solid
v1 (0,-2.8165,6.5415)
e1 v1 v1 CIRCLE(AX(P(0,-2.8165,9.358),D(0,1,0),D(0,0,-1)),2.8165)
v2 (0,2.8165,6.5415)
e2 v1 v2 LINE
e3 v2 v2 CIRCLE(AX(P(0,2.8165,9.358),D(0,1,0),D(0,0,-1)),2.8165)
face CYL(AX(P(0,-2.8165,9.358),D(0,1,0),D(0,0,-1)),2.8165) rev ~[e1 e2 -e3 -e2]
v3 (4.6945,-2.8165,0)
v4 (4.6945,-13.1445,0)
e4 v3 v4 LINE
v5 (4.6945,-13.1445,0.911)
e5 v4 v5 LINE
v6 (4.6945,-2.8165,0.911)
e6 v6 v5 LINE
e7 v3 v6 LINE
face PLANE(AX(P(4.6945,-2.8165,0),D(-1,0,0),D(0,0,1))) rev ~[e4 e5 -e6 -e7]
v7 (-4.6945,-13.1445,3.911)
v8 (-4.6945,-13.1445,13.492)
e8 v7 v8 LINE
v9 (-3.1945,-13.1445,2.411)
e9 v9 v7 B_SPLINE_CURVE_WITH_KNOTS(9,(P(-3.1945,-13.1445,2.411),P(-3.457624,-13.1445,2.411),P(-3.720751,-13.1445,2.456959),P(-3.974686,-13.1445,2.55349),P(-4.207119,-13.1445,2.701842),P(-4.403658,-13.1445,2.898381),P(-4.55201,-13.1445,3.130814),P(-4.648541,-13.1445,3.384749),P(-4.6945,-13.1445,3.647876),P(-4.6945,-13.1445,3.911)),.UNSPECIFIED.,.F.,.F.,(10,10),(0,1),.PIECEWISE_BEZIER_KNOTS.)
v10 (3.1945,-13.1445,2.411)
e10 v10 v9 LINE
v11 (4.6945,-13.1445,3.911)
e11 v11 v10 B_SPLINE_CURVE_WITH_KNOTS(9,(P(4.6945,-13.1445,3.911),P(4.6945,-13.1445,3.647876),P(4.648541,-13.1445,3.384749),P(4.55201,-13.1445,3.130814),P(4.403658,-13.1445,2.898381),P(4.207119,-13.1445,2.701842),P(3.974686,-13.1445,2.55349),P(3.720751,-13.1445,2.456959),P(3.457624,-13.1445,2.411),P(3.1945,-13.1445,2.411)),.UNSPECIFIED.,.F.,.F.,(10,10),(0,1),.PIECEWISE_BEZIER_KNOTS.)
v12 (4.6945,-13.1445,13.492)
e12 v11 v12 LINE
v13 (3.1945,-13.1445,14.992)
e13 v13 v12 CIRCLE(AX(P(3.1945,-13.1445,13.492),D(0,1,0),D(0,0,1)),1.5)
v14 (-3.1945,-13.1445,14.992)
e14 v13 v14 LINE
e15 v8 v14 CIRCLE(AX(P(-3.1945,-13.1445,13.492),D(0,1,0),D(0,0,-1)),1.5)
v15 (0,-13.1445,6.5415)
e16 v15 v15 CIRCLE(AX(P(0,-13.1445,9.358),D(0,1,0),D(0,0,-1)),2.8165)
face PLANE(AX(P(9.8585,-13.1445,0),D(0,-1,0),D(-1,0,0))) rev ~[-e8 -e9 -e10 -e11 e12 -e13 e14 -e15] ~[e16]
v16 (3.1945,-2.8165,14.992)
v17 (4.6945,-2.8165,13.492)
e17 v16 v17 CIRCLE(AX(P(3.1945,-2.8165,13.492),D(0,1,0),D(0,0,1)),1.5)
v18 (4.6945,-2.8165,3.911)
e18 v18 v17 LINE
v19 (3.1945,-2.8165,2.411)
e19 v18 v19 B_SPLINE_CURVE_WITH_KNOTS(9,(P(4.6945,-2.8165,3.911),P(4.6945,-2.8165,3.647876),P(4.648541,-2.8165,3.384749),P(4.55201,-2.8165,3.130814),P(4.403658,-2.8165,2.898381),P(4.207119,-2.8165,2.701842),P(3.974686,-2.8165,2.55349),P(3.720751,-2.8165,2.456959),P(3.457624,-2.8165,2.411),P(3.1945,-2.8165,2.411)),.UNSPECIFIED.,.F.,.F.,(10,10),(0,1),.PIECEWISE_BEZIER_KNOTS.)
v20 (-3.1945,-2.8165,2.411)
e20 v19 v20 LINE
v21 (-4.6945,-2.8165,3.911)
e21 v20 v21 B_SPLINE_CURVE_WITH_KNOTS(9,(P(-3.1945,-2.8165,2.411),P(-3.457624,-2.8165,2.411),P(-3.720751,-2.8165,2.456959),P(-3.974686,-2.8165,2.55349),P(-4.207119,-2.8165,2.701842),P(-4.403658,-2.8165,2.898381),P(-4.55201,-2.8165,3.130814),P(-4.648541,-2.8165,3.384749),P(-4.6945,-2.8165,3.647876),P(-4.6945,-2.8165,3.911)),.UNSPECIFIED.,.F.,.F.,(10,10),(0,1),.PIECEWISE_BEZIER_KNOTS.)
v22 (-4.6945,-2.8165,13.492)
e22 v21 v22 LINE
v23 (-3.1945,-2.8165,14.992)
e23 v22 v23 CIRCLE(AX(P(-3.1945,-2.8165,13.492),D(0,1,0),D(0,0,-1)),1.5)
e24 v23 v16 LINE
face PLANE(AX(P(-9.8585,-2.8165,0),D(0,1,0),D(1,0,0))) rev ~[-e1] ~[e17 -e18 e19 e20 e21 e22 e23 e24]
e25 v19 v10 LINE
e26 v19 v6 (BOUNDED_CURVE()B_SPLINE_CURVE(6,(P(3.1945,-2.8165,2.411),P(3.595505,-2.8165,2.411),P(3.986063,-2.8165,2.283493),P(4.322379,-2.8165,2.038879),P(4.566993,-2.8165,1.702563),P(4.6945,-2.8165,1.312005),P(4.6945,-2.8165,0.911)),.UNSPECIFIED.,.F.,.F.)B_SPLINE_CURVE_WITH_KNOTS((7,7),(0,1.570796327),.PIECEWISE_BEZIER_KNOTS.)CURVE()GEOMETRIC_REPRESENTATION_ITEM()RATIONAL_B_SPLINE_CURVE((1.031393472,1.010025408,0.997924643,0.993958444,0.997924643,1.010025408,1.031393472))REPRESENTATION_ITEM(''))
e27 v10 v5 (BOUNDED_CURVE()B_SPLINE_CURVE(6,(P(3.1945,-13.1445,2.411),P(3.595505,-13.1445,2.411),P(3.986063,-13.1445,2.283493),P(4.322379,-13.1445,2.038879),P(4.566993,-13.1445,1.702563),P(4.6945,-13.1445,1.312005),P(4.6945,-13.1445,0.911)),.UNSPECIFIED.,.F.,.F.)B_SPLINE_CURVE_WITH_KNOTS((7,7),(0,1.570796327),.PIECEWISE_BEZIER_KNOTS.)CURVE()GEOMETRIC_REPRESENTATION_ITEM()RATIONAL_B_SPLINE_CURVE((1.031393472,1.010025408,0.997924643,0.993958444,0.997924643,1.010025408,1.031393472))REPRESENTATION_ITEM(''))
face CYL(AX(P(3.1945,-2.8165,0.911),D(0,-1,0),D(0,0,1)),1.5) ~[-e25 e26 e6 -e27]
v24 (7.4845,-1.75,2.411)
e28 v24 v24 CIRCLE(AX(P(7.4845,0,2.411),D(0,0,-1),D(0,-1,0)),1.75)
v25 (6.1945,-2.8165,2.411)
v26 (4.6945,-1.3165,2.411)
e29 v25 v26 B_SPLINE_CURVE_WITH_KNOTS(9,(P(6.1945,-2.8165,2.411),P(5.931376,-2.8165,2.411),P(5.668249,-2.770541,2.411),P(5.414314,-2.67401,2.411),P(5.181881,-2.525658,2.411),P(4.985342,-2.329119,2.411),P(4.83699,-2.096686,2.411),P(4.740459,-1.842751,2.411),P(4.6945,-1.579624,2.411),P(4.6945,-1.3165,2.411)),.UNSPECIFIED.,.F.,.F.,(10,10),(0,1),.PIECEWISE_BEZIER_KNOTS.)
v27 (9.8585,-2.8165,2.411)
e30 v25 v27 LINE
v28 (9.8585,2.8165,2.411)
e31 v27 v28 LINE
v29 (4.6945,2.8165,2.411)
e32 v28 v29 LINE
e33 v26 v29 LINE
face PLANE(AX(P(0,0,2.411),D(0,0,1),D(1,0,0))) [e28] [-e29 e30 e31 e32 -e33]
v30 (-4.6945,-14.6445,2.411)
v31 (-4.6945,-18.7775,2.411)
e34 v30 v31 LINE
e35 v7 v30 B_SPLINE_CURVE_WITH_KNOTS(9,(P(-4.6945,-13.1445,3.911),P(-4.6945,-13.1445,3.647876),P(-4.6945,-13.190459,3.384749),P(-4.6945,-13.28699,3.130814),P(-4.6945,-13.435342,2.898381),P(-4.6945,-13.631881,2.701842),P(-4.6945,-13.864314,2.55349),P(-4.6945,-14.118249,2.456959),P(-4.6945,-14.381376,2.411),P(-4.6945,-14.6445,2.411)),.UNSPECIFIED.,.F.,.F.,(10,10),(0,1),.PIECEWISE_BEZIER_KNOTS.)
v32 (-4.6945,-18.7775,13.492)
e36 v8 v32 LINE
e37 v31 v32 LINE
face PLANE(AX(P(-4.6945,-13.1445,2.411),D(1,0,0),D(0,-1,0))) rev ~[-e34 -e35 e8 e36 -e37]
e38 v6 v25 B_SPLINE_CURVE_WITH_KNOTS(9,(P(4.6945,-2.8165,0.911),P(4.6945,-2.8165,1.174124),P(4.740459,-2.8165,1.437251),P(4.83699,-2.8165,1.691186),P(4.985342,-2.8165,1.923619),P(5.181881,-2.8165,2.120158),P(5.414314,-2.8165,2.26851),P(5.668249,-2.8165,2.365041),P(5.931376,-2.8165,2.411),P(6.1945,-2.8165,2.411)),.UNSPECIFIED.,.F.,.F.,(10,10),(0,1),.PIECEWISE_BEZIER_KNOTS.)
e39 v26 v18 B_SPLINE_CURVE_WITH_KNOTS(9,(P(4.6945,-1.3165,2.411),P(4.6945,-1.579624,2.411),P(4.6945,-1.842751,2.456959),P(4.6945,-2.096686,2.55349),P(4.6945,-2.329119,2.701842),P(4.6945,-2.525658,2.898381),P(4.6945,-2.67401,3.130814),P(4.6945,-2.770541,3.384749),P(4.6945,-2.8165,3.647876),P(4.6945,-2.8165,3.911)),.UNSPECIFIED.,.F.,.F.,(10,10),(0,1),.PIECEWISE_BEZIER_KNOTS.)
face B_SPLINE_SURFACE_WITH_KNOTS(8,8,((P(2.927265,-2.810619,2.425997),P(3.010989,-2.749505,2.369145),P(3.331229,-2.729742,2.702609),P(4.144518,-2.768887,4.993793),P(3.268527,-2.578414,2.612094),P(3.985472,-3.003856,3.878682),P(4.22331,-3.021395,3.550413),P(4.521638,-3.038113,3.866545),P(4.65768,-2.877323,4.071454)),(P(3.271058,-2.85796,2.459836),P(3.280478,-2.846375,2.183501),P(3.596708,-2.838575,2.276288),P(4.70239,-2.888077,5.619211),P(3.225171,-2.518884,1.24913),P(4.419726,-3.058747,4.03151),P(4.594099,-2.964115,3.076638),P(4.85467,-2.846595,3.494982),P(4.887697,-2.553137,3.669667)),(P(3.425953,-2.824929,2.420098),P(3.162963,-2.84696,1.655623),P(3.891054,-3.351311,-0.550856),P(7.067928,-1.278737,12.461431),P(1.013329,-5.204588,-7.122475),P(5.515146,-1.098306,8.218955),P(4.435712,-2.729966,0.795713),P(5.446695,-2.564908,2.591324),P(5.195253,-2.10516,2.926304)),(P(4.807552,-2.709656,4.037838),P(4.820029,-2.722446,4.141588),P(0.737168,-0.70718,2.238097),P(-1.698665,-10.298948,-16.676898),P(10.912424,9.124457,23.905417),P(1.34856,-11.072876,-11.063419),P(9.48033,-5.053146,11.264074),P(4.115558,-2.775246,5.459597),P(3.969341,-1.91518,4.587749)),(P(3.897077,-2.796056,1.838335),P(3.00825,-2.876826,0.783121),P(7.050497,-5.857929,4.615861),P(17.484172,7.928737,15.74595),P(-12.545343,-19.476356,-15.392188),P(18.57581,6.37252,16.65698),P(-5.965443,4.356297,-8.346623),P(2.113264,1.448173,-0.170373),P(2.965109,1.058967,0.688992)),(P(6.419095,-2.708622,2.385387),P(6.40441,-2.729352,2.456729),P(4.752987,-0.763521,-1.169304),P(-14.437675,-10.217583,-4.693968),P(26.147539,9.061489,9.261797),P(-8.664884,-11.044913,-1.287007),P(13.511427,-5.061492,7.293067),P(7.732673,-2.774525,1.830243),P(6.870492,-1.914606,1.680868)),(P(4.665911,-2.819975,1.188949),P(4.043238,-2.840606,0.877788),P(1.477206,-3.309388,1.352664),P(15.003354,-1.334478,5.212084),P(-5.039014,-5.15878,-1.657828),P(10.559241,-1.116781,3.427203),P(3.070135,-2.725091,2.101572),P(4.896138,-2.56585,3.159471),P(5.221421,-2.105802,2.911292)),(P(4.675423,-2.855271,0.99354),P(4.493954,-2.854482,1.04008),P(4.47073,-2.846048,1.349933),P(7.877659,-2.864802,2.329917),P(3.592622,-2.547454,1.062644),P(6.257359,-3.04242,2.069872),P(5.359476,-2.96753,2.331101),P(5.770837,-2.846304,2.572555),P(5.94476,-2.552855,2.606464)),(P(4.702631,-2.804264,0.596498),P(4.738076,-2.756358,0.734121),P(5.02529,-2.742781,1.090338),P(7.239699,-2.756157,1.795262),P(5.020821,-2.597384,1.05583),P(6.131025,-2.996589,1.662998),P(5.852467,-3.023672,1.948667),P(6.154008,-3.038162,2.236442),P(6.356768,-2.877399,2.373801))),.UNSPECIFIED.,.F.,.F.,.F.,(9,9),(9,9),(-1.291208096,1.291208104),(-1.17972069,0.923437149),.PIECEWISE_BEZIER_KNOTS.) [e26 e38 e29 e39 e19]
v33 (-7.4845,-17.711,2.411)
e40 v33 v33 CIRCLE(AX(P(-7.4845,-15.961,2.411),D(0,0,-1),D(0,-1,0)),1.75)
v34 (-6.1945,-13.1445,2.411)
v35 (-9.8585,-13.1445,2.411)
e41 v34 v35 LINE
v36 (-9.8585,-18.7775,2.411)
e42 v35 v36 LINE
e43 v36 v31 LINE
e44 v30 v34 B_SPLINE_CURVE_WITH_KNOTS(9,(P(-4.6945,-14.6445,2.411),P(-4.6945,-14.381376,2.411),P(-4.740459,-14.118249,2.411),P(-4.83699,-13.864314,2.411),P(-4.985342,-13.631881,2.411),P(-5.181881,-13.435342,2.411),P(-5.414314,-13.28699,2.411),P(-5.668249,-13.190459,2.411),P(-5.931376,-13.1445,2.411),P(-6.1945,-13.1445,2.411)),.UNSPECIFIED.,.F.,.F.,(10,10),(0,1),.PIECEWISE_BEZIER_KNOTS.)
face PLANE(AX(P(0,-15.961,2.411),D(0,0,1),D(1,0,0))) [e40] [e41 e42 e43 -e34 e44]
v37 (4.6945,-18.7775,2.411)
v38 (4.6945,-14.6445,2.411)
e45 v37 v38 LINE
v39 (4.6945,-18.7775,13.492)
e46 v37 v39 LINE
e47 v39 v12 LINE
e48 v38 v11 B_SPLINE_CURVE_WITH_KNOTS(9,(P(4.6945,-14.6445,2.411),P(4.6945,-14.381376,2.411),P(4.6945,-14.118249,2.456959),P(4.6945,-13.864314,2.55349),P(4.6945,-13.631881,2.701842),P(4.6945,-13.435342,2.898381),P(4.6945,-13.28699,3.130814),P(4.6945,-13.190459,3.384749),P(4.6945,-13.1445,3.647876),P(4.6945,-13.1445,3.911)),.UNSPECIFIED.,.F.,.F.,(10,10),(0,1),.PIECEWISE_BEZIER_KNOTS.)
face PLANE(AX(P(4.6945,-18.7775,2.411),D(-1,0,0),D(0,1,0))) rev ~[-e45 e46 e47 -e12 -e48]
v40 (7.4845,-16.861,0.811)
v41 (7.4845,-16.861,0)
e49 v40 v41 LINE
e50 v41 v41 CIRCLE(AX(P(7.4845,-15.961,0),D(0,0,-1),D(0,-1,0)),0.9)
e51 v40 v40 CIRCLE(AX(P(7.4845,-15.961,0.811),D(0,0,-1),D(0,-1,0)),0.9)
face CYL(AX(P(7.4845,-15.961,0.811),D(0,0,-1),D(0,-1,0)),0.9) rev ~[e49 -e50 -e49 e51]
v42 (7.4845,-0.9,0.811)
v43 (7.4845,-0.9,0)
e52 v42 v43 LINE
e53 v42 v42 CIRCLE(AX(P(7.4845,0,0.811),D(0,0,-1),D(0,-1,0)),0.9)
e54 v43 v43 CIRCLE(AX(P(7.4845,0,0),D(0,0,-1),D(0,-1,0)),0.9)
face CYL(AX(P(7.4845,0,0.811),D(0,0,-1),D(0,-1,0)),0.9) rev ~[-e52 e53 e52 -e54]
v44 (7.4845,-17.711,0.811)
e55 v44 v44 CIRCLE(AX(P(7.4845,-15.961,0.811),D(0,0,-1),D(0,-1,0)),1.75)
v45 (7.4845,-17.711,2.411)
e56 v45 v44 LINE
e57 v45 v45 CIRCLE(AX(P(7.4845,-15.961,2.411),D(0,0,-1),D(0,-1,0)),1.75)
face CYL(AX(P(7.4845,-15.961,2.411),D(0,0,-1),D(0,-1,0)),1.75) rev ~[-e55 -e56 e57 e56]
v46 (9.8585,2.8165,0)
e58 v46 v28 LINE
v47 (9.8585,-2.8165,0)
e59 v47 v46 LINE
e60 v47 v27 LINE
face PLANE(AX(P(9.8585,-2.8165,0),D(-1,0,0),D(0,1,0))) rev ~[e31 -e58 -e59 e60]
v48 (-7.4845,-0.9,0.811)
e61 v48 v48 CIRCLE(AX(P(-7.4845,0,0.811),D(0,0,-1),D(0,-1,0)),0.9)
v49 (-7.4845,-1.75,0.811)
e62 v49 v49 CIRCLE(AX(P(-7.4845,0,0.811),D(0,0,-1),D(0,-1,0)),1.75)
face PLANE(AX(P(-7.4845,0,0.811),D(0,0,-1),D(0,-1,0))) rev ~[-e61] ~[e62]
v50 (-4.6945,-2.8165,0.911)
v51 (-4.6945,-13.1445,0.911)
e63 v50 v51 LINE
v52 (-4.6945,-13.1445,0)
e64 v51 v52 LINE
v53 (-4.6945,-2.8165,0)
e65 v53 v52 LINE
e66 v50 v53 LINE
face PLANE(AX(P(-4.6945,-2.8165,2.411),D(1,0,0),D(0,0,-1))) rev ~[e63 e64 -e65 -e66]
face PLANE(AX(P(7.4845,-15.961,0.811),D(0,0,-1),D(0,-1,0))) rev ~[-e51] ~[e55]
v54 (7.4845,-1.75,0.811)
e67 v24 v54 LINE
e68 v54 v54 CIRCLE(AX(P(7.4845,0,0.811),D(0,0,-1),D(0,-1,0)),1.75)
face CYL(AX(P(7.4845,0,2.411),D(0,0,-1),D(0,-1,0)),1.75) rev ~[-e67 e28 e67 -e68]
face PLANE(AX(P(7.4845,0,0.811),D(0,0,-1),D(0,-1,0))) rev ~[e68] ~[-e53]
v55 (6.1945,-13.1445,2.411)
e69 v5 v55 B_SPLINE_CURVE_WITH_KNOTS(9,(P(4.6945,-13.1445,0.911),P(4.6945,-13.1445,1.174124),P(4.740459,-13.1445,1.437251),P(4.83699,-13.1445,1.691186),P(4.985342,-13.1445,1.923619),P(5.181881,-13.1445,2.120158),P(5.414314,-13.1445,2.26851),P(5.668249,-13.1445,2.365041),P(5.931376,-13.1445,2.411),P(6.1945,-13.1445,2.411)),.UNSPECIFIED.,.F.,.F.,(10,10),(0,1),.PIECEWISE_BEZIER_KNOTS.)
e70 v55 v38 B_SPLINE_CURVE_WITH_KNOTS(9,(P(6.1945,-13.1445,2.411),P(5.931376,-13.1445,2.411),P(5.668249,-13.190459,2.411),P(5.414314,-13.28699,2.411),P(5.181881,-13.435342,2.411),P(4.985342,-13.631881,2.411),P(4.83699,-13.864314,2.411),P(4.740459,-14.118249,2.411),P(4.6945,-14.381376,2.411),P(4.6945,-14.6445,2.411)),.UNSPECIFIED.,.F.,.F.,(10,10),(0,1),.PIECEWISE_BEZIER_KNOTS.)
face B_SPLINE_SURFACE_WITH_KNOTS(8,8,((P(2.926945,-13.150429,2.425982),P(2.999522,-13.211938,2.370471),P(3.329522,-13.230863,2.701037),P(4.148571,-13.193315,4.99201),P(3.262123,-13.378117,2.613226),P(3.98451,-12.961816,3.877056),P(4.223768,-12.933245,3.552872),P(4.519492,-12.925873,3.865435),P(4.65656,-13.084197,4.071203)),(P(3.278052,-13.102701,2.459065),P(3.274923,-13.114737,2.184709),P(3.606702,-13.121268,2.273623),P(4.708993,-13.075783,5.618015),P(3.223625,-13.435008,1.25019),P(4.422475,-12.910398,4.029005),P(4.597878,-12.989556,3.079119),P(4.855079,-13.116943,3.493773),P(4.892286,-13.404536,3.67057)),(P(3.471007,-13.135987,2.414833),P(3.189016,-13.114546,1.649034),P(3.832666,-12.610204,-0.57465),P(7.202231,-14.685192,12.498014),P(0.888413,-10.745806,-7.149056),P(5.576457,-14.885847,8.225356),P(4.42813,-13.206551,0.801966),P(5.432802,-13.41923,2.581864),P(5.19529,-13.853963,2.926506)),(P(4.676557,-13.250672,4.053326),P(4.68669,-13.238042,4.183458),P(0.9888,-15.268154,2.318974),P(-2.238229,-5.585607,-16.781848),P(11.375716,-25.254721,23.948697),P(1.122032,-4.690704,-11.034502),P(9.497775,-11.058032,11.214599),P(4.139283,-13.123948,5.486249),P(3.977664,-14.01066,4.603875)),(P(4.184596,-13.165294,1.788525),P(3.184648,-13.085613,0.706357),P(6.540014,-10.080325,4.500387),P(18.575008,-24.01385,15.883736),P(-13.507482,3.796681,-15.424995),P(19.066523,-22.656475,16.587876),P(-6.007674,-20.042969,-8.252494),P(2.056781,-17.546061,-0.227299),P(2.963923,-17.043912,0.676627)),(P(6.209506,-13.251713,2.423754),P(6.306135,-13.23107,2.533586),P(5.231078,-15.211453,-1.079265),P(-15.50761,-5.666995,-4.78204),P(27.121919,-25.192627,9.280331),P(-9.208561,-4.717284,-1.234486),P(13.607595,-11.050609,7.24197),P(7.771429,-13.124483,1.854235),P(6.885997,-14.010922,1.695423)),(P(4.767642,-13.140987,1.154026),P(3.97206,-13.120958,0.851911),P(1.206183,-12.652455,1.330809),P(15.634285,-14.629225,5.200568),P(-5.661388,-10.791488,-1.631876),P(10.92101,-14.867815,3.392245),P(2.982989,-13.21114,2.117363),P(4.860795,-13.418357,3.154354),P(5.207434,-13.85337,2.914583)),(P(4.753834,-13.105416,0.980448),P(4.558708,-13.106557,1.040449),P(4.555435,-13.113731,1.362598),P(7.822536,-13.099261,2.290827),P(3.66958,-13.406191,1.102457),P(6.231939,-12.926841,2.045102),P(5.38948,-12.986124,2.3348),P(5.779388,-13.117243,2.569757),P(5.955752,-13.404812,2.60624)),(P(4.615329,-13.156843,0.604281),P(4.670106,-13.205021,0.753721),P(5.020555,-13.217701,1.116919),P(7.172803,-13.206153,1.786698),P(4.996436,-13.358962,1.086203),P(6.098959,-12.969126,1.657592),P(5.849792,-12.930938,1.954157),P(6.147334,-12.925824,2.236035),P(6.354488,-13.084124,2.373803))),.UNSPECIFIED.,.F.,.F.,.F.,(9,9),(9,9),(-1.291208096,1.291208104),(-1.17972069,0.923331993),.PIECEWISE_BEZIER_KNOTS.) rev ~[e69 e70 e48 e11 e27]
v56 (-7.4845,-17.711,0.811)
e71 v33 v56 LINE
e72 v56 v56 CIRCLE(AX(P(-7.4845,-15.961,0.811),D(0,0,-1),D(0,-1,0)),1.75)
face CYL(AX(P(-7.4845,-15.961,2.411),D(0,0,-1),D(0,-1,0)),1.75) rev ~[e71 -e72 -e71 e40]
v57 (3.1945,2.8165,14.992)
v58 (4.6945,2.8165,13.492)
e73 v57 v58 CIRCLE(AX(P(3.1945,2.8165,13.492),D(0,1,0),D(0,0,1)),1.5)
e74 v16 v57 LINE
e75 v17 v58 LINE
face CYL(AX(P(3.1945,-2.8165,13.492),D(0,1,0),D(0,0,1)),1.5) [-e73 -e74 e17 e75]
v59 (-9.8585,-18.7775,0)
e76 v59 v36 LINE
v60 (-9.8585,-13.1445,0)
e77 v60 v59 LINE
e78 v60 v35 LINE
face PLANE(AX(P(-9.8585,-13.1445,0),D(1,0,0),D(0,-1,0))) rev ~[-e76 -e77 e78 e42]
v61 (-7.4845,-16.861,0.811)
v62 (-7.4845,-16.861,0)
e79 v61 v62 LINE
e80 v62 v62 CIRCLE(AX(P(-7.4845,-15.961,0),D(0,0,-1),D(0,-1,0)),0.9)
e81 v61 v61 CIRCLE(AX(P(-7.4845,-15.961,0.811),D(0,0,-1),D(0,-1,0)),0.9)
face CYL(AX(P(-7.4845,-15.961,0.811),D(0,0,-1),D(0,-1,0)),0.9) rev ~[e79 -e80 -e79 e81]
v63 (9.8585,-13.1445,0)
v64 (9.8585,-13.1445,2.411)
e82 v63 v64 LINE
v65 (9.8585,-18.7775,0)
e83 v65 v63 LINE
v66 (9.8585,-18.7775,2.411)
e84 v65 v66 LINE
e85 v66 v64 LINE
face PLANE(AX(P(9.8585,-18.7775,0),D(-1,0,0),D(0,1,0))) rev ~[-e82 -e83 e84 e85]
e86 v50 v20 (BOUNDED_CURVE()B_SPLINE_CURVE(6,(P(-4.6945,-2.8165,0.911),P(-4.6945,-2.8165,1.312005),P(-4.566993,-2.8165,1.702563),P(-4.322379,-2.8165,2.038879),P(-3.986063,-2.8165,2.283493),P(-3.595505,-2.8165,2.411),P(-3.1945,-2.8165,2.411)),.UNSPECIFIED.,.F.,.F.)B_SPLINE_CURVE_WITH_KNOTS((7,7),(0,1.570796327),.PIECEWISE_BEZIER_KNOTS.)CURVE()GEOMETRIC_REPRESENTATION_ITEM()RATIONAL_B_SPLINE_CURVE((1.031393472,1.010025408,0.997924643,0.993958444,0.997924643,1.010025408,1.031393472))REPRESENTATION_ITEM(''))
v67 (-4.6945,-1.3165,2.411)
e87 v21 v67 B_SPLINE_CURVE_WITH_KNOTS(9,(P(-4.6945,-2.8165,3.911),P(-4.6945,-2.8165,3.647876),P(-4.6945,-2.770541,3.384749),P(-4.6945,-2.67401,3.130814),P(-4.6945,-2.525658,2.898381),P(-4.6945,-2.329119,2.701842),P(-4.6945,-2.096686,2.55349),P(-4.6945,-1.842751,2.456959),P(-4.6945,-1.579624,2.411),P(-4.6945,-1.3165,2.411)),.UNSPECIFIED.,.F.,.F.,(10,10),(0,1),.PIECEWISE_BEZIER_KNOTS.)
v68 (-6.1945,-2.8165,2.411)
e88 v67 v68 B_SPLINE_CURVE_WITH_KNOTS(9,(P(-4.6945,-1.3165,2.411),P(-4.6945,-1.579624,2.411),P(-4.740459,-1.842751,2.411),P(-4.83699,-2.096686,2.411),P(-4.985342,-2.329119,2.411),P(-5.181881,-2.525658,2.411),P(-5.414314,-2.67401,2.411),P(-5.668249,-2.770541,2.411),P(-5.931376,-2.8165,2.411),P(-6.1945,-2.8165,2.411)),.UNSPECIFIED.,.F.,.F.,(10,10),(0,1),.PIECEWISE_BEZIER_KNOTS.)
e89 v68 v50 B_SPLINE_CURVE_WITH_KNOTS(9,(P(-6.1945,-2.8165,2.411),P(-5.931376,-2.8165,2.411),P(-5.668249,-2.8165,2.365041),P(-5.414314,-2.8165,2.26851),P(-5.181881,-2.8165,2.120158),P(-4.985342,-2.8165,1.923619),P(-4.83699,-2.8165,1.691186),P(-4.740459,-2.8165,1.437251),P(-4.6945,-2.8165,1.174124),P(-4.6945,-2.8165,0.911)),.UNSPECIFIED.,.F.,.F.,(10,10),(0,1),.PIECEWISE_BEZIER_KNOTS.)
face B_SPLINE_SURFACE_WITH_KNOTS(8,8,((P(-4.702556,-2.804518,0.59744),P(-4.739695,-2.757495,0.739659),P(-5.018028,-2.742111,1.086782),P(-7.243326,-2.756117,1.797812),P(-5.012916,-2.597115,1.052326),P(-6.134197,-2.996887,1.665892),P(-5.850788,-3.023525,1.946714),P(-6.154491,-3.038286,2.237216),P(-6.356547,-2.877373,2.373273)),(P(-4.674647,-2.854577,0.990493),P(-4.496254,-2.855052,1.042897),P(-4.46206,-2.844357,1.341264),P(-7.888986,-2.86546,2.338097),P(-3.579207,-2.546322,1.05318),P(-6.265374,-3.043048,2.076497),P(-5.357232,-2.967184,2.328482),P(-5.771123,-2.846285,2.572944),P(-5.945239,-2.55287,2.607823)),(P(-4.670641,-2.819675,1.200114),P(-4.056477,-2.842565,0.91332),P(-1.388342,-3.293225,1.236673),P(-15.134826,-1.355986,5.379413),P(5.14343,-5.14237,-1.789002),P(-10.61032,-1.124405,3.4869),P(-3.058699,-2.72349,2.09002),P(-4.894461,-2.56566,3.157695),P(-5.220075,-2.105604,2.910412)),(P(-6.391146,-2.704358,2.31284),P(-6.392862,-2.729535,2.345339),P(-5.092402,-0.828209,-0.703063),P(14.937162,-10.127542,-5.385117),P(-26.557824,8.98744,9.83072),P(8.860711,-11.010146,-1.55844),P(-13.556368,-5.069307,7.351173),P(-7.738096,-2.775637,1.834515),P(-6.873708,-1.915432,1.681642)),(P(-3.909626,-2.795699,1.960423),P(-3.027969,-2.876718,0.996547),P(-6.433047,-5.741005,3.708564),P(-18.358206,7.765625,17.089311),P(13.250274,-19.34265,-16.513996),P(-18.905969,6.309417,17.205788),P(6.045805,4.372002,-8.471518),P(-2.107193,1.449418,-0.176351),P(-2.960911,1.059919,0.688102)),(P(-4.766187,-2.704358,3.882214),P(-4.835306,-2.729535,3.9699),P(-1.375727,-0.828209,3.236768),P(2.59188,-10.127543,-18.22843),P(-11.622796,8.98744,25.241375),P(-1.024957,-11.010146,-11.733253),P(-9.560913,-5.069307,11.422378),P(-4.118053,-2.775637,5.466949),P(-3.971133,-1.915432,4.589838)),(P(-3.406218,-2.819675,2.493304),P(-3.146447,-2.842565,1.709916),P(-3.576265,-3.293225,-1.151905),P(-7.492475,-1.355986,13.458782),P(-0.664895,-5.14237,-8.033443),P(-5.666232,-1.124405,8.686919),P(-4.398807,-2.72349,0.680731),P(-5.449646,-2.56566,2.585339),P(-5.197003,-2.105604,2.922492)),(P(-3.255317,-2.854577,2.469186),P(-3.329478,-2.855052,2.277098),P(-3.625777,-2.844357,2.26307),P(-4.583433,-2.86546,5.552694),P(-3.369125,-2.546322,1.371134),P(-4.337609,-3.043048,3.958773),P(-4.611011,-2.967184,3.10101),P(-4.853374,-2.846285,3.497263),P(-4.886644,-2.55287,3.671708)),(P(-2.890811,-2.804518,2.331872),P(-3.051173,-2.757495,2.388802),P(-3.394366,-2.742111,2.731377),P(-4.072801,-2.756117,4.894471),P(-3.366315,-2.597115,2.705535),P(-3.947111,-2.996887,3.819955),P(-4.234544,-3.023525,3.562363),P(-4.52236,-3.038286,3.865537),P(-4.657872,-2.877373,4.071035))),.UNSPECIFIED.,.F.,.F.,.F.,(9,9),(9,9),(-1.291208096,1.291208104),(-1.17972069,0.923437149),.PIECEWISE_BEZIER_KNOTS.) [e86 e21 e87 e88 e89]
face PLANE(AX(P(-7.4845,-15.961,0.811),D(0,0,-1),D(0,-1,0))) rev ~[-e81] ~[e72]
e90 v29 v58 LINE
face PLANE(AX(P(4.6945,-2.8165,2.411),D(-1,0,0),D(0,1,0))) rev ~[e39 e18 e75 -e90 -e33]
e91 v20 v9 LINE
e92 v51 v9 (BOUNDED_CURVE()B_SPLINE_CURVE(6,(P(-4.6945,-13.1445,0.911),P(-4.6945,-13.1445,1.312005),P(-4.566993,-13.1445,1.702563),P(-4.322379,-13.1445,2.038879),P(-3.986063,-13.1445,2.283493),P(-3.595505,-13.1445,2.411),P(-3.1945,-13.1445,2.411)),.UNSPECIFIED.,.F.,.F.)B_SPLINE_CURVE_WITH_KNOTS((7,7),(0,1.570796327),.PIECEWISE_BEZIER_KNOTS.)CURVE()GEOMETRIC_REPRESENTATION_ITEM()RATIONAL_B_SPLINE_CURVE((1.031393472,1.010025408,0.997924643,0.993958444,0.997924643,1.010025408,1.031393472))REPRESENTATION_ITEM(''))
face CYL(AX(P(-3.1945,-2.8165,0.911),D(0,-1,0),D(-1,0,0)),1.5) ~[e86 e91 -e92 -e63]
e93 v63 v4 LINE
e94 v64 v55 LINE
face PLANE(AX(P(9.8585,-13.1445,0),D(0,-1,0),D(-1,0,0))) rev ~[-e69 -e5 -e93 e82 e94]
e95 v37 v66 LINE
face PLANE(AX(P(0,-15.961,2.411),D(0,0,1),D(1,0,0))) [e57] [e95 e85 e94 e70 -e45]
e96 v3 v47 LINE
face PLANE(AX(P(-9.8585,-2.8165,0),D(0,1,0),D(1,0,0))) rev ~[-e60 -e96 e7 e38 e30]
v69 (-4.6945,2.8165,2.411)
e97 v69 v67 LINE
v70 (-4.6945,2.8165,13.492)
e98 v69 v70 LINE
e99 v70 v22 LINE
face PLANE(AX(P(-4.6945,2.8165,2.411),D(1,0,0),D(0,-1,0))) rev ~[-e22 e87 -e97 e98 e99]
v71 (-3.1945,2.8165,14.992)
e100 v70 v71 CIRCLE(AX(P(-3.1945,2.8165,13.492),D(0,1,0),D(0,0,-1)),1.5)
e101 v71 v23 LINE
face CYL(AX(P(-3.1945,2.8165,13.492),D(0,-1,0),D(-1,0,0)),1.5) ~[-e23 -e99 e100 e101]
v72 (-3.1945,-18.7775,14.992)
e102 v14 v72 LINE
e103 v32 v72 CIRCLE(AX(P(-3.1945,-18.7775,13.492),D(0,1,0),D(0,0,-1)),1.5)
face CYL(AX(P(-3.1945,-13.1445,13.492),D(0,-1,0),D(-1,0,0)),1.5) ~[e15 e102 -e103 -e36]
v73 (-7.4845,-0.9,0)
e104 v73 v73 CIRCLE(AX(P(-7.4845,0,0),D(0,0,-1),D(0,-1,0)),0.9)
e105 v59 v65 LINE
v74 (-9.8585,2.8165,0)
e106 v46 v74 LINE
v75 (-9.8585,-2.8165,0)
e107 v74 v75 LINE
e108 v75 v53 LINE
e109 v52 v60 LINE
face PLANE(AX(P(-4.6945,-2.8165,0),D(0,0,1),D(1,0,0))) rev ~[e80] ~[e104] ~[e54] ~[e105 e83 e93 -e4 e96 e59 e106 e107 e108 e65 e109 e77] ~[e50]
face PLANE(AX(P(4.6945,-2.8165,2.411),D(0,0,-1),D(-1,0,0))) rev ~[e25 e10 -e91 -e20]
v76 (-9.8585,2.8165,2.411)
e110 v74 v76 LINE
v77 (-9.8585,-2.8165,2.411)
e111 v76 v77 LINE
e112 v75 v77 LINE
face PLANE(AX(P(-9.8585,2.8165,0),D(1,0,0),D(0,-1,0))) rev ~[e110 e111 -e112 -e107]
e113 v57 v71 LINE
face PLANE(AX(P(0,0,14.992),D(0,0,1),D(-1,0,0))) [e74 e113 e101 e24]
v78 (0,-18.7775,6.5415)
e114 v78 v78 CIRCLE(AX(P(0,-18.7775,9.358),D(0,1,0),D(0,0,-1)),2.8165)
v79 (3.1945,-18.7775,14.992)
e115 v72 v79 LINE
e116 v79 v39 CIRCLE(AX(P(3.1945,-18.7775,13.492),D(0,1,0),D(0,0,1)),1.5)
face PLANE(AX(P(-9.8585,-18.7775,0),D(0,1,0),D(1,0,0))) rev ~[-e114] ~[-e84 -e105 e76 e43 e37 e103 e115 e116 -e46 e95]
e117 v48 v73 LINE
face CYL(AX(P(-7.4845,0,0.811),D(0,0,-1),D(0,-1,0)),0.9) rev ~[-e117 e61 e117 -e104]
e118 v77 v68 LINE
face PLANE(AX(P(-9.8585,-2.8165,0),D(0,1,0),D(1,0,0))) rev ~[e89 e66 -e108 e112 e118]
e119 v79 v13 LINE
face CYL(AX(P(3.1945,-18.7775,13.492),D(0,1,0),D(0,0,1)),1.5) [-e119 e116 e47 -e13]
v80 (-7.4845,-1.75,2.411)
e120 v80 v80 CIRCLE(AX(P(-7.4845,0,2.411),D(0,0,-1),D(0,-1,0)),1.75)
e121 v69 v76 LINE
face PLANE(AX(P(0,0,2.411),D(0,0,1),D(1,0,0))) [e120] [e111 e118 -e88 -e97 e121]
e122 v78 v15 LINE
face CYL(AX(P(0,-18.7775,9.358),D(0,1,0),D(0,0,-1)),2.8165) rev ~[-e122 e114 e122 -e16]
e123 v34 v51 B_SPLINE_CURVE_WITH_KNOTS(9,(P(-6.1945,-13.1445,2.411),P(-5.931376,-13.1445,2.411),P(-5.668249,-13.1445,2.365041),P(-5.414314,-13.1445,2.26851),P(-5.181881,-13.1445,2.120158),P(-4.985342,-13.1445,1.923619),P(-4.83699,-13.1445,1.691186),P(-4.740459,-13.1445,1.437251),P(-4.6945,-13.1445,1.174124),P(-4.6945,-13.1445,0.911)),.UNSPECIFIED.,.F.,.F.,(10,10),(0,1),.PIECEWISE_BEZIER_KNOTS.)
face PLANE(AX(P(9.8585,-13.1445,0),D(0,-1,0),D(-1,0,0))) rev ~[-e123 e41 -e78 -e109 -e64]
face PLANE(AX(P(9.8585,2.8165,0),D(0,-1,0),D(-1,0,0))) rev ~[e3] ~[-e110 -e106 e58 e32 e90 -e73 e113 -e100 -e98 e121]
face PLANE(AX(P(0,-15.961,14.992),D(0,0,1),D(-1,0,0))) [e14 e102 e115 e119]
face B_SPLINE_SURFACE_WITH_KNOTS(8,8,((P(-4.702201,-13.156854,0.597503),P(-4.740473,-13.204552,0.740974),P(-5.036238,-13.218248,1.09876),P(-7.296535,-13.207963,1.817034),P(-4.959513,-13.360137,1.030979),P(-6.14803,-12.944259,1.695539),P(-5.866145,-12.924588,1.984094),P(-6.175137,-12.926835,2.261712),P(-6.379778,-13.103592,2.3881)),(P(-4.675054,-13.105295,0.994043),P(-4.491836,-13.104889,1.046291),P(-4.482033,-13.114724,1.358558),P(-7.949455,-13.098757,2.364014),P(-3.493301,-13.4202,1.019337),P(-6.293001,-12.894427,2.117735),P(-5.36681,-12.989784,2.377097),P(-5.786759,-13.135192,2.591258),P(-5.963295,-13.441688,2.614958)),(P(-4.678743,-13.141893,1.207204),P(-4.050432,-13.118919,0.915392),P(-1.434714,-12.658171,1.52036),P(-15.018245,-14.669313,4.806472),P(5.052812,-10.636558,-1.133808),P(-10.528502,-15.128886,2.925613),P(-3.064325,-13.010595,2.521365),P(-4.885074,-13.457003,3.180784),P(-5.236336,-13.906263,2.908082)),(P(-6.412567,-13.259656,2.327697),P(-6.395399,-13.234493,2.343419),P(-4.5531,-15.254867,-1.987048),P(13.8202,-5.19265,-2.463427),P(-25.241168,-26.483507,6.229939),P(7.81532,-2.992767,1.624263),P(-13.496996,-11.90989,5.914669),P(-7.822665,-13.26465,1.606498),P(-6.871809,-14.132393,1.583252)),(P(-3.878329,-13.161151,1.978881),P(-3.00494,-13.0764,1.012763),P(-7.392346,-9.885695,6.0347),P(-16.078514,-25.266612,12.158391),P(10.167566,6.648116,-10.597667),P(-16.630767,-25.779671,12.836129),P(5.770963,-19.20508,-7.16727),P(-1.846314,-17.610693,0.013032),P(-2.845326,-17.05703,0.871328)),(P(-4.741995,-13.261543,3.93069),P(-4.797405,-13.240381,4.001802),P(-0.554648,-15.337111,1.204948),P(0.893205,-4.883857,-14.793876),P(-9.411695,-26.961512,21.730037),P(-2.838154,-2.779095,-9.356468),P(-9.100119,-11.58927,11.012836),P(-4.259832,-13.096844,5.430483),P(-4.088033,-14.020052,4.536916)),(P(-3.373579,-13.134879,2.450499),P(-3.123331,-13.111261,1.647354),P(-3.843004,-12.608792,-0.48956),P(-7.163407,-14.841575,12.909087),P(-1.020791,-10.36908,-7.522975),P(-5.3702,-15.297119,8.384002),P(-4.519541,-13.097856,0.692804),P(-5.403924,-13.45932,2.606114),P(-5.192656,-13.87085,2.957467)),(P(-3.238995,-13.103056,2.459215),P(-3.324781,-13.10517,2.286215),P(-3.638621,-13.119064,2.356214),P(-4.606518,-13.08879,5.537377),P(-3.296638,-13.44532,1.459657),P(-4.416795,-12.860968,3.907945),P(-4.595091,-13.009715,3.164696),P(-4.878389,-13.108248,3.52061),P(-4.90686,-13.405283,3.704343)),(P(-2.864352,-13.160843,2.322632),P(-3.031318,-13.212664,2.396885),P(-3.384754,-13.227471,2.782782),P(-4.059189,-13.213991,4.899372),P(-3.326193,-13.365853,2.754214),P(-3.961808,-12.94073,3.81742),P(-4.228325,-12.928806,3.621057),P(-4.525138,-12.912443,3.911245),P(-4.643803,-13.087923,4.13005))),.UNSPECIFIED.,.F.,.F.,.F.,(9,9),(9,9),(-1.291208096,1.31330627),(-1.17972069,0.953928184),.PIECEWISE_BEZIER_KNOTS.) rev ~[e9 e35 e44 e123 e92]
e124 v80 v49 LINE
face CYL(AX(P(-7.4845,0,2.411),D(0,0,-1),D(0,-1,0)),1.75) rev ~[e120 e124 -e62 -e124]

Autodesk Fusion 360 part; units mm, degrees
sketch "Sketch1" plane through (0, 0, 0) normal (0, 0, 1) x (1, 0, 0)
  line L0 (9.8585, 2.8165) -> (-9.8585, 2.8165)
  line L1 (-9.8585, 2.8165) -> (-9.8585, -2.8165)
  line L2 (-9.8585, -2.8165) -> (9.8585, -2.8165)
  line L3 (9.8585, -2.8165) -> (9.8585, 2.8165)
  line L4 (9.8585, 2.8165) -> (-9.8585, -2.8165) construction
  line L5 (-9.8585, 2.8165) -> (9.8585, -2.8165) construction
  dimension "d1" = 19.717
  dimension "d2" = 5.633
extrude "Extrude1" add sketch "Sketch1" along normal blind 2.411 makes body 1
sketch "Sketch5" plane through (0, 0, 2.411) normal (0, 0, 1) x (-1, 0, 0)
  line L0 (-9.8585, 2.8165) -> (-9.8585, -2.8165)
  line L1 (-9.8585, -2.8165) -> (9.8585, -2.8165)
  line L2 (9.8585, -2.8165) -> (9.8585, 2.8165)
  line L3 (9.8585, 2.8165) -> (-9.8585, 2.8165)
  line L4 (0, -2.8165) -> (0, 2.8165) construction
  line L5 (9.8585, 0) -> (-9.8585, 0) construction
  point P0 (7.4845, 0)
  point P1 (-7.4845, 0)
  dimension "d16" = 2.374
sketch "Sketch2" plane through (0, 0, 2.411) normal (0, 0, 1) x (-1, 0, 0)
  line L0 (-9.8585, 2.8165) -> (-9.8585, -2.8165)
  line L1 (-9.8585, -2.8165) -> (9.8585, -2.8165)
  line L2 (9.8585, -2.8165) -> (9.8585, 2.8165)
  line L3 (9.8585, 2.8165) -> (-9.8585, 2.8165)
  line L4 (-4.6945, -2.8165) -> (4.6945, -2.8165)
  line L5 (4.6945, -2.8165) -> (4.6945, 2.8165)
  line L6 (4.6945, 2.8165) -> (-4.6945, 2.8165)
  line L7 (-4.6945, 2.8165) -> (-4.6945, -2.8165)
  line L8 (-4.6945, -2.8165) -> (4.6945, 2.8165) construction
  line L9 (4.6945, -2.8165) -> (-4.6945, 2.8165) construction
  dimension "d5" = 9.389
sketch "Sketch3" plane through (0, -2.8165, 0) normal (0, -1, 0) x (1, 0, 0)
  line L0 (-9.8585, 0) -> (9.8585, 0)
  line L1 (9.8585, 0) -> (9.8585, 2.411)
  line L2 (9.8585, 2.411) -> (-9.8585, 2.411)
  line L3 (-9.8585, 2.411) -> (-9.8585, 0)
  line L4 (0, 2.411) -> (0, 0) construction
  line L5 (-4.6945, 2.411) -> (-4.6945, 0)
  line L6 (-4.6945, 0) -> (4.6945, 0)
  line L7 (4.6945, 0) -> (4.6945, 2.411)
  line L8 (4.6945, 2.411) -> (-4.6945, 0) construction
  line L9 (-4.6945, 2.411) -> (4.6945, 0) construction
  point P0 (0, 1.2055)
  dimension "d6" = 9.389
extrude "Extrude2" add sketch "Sketch2" along normal blind 12.581 contours L1 L3 L4 L5 L6 L7 bodies 1
sketch "Sketch4" plane through (0, -2.8165, 0) normal (0, -1, 0) x (1, 0, 0)
  line L0 (-9.8585, 0) -> (9.8585, 0)
  line L1 (9.8585, 0) -> (9.8585, 2.411)
  line L2 (9.8585, 2.411) -> (4.6945, 2.411)
  line L3 (4.6945, 2.411) -> (4.6945, 14.992)
  line L4 (4.6945, 14.992) -> (-4.6945, 14.992)
  line L5 (-4.6945, 14.992) -> (-4.6945, 2.411)
  line L6 (-4.6945, 2.411) -> (-9.8585, 2.411)
  line L7 (-9.8585, 2.411) -> (-9.8585, 0)
  line L8 (0, 14.992) -> (0, 2.5) construction
  point P0 (0, 9.358)
  dimension "d10" = 5.634
hole "Hole1" at (0, -2.8165, 9.358) direction (0, 1, 0) diameter 5.633 depth 5.633 tip angle 118 bodies 1
fillet "Fillet1" radius 1.5 2 edges at (4.6945, 0, 14.992) (-4.6945, 0, 14.992) on bodies 1
hole "Hole2" at (-7.4845, 0, 2.411) at (7.4845, 0, 2.411) direction (0, 0, -1) diameter 1.8 depth 3.5 tip angle 118 counterbore diameter 3.5 counterbore depth 1.6 bodies 1
copy_body "CopyPasteBodies1" bodies 1 makes body 2
move_body "Move1" bodies 2 to x (1, 0, 0) y (0, 1, 0) z (0, 0, 1) at (0, -15.961, 0)
extrude "Extrude3" add sketch "Sketch3" along normal up to surface (10.328 mm away) contours L0 L2 L5 L6 L7 bodies 1 2
fillet "Fillet2" radius 1.5 2 edges at (-4.6945, -7.9805, 2.411) (4.6945, -7.9805, 2.411) on bodies 1
